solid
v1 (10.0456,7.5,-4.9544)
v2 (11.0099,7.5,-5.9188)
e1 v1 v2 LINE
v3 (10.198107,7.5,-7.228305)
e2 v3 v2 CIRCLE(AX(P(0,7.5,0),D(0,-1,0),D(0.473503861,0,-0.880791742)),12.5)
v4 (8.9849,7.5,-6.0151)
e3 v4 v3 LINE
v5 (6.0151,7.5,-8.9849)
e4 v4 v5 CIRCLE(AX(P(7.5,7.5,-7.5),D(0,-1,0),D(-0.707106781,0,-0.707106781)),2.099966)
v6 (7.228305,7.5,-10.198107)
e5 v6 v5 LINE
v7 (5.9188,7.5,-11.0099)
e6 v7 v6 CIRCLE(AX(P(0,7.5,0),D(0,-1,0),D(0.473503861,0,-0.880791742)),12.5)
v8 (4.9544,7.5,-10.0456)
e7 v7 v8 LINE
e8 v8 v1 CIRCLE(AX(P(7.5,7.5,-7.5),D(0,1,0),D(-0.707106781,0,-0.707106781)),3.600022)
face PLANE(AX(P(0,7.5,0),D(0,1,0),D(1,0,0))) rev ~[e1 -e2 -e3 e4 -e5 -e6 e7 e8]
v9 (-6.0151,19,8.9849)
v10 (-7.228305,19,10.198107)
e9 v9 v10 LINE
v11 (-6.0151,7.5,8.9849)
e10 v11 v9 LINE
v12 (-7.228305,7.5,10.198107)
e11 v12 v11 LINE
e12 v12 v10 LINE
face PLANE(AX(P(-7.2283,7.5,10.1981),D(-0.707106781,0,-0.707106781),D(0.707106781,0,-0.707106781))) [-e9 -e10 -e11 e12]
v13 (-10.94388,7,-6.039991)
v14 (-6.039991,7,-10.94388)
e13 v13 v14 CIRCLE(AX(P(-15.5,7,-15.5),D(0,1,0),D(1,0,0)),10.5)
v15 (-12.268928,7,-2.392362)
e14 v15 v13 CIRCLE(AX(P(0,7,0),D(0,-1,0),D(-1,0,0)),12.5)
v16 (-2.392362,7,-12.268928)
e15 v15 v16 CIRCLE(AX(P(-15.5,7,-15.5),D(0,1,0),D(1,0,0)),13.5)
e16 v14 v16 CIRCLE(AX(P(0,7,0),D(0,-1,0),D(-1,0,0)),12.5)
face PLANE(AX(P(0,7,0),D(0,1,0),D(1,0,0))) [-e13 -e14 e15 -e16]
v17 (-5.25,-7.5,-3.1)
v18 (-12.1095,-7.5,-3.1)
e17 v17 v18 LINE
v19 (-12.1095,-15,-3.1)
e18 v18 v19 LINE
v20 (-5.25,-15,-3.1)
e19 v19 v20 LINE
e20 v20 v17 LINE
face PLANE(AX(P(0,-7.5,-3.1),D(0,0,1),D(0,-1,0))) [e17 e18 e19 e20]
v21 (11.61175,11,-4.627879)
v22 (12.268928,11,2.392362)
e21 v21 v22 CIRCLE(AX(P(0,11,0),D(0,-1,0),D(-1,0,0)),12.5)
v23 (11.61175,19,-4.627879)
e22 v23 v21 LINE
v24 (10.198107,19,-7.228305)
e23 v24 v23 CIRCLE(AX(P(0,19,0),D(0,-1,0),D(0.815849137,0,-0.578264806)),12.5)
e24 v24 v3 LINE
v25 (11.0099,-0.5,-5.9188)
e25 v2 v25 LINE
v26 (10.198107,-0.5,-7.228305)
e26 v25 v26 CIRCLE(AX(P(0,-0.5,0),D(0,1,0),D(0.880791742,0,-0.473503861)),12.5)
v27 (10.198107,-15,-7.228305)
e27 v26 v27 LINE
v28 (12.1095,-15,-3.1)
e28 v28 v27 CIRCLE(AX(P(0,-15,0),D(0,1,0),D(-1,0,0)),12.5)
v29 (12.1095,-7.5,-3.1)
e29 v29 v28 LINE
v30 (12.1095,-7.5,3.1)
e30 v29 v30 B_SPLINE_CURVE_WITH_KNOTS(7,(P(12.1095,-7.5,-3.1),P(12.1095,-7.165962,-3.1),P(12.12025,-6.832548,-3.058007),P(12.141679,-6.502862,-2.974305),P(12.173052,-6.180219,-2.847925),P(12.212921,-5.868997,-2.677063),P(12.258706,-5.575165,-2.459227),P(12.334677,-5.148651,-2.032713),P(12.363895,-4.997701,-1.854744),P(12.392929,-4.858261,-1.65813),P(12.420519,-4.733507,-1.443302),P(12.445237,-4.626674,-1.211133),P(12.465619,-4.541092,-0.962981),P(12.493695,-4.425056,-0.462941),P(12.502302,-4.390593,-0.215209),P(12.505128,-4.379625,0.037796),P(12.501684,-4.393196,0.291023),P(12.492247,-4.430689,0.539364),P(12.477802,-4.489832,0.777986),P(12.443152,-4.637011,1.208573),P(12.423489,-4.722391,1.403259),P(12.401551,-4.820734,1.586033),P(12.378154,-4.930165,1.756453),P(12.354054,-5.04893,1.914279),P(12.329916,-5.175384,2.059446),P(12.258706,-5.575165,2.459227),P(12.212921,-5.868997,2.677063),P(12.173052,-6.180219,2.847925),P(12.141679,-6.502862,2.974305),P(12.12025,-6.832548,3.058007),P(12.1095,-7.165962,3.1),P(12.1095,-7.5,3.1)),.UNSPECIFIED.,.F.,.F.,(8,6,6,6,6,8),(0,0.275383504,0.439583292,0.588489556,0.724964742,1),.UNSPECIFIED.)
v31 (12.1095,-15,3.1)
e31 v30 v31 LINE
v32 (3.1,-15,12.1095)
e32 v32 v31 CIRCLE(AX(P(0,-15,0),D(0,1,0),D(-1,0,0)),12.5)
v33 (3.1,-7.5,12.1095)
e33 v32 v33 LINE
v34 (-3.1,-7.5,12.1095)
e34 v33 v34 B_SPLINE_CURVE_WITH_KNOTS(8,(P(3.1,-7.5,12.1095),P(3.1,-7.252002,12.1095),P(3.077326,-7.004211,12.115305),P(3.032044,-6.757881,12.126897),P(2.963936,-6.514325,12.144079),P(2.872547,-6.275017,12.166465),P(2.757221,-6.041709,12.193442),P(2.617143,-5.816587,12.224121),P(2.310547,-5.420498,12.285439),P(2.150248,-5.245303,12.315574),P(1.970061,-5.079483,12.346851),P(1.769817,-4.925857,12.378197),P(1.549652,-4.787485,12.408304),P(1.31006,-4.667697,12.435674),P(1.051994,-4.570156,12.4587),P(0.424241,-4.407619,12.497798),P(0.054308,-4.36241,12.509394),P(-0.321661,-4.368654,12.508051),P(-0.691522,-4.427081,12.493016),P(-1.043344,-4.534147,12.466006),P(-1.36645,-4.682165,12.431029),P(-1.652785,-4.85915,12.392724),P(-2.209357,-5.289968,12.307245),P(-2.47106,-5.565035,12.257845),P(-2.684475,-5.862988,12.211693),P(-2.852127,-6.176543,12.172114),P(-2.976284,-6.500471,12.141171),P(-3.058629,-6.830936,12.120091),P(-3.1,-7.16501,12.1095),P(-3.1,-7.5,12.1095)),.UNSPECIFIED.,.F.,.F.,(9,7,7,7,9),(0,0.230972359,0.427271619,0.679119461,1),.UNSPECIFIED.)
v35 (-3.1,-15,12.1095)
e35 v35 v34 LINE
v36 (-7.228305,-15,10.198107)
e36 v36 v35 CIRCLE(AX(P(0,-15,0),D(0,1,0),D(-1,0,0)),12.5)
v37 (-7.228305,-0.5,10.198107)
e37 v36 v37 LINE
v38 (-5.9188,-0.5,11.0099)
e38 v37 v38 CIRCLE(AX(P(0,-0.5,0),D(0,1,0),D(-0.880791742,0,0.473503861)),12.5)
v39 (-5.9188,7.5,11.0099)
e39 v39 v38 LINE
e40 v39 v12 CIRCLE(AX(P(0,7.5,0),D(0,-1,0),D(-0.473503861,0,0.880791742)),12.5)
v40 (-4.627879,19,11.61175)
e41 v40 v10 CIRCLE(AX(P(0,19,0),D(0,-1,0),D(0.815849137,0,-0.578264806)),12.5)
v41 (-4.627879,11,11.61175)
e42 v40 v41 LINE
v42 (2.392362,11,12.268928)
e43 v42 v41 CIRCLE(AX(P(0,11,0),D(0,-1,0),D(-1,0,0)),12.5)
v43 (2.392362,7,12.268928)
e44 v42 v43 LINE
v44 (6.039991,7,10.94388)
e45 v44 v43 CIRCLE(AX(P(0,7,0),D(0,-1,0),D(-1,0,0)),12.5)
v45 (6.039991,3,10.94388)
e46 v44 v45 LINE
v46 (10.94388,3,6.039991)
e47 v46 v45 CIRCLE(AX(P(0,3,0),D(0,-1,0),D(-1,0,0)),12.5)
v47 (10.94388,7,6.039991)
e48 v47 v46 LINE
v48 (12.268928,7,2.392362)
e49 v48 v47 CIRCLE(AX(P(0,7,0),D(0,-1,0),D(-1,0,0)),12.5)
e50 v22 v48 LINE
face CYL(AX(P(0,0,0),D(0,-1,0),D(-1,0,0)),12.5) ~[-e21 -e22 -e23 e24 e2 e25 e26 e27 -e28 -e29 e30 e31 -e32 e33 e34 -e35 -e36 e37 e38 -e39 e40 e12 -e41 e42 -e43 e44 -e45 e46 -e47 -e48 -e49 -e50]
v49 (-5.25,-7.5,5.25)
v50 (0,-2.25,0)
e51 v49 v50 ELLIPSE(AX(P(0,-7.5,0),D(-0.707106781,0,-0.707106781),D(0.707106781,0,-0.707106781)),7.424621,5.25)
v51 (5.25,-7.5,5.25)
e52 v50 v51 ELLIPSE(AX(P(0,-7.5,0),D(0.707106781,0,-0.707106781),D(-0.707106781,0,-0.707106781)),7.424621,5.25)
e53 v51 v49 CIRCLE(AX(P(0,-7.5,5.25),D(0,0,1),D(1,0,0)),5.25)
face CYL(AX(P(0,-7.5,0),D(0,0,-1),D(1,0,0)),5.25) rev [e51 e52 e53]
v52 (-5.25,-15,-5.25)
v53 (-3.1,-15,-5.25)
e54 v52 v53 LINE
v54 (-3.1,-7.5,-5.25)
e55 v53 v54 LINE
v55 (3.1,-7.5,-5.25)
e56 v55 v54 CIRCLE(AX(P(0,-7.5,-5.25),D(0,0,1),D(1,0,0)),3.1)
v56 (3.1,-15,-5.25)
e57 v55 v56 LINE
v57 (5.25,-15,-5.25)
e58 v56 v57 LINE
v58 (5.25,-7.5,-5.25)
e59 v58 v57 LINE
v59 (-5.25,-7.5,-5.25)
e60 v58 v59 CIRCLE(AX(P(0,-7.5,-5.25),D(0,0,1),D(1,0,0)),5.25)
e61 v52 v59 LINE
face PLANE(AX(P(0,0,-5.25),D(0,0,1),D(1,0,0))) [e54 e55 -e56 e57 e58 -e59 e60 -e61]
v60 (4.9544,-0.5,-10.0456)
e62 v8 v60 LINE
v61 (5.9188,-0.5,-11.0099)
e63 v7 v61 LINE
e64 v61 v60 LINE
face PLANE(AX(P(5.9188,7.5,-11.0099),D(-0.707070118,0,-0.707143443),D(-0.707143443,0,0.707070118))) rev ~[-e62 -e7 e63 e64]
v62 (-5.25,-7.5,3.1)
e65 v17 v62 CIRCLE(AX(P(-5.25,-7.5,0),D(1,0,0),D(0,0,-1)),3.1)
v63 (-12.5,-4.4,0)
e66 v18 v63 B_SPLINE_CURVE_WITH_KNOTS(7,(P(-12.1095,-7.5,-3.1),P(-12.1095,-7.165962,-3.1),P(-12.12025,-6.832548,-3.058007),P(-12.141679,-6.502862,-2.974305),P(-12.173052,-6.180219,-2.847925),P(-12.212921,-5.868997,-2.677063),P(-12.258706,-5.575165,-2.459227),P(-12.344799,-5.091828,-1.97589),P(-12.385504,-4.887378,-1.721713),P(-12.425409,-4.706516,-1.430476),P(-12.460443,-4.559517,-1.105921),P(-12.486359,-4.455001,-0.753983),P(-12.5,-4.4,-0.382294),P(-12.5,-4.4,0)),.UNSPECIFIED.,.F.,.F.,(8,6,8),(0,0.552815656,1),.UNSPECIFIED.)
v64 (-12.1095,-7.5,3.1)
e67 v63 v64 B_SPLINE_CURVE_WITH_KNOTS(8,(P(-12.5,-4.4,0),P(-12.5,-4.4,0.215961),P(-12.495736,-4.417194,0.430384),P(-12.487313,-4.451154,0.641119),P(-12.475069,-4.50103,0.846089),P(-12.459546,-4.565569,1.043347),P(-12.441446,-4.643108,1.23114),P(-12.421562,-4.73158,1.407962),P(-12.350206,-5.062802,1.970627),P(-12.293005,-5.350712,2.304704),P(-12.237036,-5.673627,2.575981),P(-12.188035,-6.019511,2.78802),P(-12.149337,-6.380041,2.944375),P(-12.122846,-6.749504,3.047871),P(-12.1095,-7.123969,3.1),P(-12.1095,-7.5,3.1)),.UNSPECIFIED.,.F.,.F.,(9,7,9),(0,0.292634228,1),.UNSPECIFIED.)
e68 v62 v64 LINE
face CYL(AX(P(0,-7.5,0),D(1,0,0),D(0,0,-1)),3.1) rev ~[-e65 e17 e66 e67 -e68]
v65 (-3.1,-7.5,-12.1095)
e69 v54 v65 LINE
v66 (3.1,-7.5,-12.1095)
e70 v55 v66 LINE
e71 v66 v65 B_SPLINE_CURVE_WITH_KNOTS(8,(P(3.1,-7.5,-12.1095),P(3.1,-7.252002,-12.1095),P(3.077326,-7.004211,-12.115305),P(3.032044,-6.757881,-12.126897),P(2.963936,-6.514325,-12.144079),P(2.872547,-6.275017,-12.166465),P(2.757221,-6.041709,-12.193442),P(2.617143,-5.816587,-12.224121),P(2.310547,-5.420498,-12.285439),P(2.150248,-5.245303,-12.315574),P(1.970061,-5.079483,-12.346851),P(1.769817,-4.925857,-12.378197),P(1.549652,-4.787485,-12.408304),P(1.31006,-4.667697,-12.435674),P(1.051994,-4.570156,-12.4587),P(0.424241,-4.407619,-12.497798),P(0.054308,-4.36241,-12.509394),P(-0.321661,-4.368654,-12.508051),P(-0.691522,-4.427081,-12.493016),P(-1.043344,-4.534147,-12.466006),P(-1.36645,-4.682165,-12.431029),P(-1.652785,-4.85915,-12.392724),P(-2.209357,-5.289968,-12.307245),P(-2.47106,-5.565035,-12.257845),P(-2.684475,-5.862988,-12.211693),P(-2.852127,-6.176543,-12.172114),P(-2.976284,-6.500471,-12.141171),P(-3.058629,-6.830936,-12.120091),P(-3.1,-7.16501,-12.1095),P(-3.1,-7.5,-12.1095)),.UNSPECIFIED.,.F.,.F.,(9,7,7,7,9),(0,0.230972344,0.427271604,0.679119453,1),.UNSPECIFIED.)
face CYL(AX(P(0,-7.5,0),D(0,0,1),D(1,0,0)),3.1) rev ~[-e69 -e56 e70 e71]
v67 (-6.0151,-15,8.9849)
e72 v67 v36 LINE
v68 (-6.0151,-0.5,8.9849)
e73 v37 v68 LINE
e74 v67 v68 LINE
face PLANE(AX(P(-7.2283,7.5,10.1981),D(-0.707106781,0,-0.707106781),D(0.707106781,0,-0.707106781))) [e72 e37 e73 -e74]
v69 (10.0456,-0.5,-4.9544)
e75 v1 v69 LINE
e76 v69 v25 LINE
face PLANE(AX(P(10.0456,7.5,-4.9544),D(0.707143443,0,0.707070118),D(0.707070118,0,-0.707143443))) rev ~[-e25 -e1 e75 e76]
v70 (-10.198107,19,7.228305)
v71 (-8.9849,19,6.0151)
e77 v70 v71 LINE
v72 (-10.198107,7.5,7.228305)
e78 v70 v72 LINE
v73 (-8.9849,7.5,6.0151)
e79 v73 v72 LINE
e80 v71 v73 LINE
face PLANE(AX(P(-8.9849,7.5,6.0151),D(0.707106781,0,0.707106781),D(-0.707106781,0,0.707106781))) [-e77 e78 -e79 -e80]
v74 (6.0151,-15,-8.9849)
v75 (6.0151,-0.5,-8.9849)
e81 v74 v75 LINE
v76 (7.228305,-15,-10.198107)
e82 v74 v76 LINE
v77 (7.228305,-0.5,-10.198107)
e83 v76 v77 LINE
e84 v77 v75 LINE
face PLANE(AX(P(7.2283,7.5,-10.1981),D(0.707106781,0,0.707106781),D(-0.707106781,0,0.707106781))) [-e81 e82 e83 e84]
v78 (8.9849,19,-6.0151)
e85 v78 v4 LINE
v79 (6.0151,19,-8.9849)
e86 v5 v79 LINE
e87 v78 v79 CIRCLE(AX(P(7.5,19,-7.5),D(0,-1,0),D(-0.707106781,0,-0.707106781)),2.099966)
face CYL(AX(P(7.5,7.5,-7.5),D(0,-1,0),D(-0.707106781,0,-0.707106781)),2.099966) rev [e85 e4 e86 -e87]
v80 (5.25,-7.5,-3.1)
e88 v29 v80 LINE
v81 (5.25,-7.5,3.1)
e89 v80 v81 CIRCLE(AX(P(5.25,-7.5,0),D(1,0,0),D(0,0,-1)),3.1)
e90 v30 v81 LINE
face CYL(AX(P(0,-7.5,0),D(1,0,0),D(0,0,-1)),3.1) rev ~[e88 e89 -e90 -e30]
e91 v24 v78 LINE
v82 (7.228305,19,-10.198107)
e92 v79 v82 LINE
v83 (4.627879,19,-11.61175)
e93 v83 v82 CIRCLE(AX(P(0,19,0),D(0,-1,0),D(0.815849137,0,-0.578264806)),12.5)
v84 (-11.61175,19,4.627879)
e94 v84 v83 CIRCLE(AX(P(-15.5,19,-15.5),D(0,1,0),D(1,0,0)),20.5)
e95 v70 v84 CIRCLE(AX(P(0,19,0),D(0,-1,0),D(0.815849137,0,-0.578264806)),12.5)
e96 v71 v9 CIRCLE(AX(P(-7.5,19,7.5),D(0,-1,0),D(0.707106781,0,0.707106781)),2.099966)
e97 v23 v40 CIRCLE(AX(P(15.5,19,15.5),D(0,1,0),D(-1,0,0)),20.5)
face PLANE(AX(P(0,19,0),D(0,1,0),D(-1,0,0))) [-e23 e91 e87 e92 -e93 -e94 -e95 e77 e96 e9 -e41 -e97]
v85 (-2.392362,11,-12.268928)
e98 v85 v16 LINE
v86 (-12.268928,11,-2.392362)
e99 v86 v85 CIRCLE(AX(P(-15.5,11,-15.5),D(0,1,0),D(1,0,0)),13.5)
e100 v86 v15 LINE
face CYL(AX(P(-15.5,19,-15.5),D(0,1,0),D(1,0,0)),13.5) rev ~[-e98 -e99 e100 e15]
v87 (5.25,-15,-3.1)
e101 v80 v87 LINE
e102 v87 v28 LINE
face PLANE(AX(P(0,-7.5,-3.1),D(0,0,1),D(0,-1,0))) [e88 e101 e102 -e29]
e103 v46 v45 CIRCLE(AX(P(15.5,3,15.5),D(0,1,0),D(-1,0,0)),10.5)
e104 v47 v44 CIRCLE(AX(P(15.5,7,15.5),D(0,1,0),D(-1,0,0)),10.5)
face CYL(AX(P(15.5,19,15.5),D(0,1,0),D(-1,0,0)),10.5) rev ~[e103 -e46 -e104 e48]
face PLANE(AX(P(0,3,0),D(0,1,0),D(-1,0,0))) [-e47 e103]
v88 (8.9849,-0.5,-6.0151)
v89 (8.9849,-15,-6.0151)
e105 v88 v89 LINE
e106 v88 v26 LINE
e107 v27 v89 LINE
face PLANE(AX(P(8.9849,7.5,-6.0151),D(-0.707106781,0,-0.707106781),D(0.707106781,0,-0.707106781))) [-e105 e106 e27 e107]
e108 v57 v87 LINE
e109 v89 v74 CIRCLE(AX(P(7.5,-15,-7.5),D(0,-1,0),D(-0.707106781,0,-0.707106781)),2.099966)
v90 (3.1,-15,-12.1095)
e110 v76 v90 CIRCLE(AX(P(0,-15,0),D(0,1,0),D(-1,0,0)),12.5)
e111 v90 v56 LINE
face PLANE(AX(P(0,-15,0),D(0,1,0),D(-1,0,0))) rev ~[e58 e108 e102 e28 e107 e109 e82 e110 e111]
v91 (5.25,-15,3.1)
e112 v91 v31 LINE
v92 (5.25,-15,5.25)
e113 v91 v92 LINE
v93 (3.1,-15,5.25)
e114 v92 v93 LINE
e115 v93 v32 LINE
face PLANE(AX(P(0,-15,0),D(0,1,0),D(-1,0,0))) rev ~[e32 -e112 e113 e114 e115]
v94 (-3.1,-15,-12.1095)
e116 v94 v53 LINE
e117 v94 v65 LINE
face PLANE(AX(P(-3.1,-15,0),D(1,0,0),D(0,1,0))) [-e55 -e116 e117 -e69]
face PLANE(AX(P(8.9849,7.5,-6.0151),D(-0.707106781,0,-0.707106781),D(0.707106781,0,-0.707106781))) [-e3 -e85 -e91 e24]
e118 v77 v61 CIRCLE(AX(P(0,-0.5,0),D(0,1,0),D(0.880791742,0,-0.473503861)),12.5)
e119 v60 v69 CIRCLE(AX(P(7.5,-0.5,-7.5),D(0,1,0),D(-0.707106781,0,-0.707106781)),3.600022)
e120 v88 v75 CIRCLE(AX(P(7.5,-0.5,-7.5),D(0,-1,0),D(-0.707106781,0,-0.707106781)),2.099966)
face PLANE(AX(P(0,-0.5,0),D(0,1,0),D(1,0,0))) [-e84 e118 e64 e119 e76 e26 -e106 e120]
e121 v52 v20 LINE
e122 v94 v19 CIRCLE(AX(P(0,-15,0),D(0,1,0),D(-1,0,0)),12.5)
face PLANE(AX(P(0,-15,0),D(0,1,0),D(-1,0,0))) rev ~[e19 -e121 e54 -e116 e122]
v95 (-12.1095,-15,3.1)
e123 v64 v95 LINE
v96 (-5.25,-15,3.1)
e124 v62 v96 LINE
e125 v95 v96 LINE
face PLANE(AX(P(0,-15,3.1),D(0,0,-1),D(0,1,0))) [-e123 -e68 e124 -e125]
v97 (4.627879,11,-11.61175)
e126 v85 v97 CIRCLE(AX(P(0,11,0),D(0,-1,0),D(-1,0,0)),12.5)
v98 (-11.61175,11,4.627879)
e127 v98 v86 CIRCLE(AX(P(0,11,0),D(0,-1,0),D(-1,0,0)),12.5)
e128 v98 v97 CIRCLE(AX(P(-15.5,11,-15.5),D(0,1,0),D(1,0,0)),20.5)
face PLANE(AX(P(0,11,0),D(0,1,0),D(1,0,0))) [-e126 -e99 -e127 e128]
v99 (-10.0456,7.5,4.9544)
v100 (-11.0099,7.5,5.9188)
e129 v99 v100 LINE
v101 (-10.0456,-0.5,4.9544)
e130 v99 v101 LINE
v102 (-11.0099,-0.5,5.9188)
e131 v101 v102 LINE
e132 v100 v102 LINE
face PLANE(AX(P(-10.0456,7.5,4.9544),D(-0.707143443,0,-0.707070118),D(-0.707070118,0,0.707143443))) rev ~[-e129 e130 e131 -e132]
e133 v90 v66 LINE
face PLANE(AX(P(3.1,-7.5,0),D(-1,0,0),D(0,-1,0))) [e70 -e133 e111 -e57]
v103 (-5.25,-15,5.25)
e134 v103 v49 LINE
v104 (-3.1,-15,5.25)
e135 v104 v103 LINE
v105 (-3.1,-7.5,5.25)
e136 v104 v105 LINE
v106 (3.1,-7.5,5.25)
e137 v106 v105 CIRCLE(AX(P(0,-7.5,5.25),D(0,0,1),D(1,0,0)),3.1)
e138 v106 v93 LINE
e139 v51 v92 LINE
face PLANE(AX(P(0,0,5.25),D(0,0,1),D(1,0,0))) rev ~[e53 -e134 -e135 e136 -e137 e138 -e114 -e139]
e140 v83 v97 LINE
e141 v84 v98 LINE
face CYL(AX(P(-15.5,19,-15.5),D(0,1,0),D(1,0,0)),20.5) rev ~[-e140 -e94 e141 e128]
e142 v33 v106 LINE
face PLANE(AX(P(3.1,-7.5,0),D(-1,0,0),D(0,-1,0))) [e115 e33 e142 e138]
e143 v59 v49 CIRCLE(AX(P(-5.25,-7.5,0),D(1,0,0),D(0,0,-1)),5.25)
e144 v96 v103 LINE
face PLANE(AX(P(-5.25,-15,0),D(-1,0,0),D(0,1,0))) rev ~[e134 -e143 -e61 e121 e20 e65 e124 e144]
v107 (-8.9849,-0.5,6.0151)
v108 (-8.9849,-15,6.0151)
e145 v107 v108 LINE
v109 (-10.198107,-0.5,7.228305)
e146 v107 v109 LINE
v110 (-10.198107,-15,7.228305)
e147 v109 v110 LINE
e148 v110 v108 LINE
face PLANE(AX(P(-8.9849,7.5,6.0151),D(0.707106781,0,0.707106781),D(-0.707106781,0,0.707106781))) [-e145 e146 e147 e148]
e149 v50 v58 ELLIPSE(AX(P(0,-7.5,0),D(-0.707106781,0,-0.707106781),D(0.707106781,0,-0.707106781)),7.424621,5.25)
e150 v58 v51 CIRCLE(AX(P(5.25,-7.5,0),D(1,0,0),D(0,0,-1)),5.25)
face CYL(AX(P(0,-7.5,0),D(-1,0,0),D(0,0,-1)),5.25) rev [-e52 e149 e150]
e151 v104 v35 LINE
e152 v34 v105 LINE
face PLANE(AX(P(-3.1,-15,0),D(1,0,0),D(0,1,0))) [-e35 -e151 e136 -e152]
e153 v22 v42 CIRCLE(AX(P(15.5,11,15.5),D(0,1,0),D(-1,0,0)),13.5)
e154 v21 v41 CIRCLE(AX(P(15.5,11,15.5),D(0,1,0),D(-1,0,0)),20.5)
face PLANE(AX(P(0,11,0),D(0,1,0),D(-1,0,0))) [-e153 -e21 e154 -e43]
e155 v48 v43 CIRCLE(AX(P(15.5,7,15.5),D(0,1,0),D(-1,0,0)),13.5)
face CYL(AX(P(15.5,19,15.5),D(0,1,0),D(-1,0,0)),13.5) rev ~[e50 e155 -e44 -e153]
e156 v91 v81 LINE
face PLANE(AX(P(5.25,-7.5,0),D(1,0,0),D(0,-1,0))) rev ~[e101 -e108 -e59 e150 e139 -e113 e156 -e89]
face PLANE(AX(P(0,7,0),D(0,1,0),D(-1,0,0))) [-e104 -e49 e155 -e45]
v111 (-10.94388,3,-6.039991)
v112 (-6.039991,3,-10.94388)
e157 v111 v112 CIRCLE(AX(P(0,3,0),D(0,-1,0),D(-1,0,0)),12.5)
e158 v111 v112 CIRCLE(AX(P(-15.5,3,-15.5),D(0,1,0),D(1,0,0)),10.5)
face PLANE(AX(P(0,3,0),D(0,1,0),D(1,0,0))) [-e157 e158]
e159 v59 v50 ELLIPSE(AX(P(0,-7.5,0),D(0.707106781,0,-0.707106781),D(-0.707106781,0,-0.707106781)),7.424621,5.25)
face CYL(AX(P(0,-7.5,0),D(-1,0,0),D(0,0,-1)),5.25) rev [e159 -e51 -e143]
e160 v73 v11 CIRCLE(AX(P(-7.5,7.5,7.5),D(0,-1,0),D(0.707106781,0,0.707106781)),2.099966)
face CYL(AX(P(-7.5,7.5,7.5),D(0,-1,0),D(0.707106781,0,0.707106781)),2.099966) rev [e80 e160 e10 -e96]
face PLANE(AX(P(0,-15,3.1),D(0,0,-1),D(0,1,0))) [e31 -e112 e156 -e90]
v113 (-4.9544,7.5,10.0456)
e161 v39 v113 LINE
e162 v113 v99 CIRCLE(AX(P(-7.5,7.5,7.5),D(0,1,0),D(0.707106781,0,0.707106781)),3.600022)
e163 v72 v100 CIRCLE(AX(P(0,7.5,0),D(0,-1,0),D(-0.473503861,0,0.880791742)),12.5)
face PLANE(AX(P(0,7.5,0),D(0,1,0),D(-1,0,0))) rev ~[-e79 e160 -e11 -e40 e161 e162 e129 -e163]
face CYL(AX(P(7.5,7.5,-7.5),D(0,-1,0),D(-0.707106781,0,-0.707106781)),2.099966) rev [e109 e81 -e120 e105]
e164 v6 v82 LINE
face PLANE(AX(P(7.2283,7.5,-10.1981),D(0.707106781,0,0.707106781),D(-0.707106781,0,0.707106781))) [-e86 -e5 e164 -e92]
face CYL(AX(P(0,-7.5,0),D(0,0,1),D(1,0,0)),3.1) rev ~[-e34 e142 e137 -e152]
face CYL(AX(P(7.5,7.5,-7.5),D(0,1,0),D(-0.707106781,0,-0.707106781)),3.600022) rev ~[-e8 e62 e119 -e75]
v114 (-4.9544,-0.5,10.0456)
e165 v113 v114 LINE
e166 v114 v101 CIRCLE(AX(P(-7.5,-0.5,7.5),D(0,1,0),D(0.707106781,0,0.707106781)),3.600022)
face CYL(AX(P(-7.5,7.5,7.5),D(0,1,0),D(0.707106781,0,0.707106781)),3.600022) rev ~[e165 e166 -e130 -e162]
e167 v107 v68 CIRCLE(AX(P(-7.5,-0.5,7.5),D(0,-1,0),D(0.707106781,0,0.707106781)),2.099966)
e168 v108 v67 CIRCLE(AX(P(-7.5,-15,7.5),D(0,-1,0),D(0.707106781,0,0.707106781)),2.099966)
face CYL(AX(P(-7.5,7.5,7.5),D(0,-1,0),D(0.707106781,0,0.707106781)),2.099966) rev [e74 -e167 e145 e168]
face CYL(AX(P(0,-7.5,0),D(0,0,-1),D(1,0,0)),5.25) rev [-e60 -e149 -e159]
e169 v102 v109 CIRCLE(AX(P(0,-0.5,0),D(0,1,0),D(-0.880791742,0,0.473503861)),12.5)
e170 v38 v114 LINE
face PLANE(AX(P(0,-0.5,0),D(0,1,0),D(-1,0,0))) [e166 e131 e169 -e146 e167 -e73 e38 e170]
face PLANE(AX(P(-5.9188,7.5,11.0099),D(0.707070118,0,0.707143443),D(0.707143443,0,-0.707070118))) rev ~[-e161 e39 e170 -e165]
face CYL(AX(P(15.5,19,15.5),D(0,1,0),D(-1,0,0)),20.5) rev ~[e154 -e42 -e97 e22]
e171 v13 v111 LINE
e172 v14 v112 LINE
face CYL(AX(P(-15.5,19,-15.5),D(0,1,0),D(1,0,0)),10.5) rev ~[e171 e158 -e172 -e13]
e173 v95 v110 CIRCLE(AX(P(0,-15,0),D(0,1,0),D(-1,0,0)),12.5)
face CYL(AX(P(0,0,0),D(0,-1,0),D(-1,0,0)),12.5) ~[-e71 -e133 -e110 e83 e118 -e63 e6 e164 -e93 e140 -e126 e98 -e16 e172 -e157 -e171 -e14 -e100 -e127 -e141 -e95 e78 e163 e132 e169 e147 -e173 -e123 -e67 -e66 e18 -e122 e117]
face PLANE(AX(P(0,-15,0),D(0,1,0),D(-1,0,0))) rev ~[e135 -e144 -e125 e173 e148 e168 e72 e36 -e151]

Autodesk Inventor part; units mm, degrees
ref_plane "YZ Plane" through (0, 0, 0) normal (1, 0, 0) x (0, 1, 0)
ref_plane "XZ Plane" through (0, 0, 0) normal (0, 1, 0) x (-1, 0, 0)
sketch "Sketch1" plane through (0, 0, 0) normal (0, 1, 0) x (-1, 0, 0)
  circle A0 centre (0, 0) radius 12.5
  dimension "d0" = 25
extrude "Extrusion1" add sketch "Sketch1" along normal blind 19 and the other way blind 15
sketch "Sketch2" plane through (0, 0, 0) normal (0, 0, 1) x (1, 0, 0)
  line L0 (-5.25, -15) -> (-5.25, -7.5)
  arc A0 (5.25, -7.5) -> (-5.25, -7.5) centre (0, -7.5) ccw
  line L1 (5.25, -7.5) -> (5.25, -15)
  line L2 (5.25, -15) -> (-5.25, -15)
  line L3 (-3.1, -15) -> (-3.1, -7.5)
  arc A1 (3.1, -7.5) -> (-3.1, -7.5) centre (0, -7.5) ccw
  line L4 (3.1, -7.5) -> (3.1, -15)
  line L5 (0, 0) -> (0, -15) construction
  line L6 (-12.5, -15) -> (12.5, -15) projected
  point P0 (0, -7.5)
  dimension "d5" = 10.5
  dimension "d6" = 6.2
extrude "Extrusion2" cut sketch "Sketch2" along normal mid plane 10.5
extrude "Extrusion3" cut sketch "Sketch2" against normal through all both and the other way through all contours L3 A1 L4 L2
pattern_circular "Circular Pattern1" count 2 over 90 about axis through (0, -10, 0) along (0, 1, 0) of "Extrusion2", "Extrusion3"
ref_plane "Work Plane1" through (0, 7.5, 0) normal (0, 1, 0) x (1, 0, 0)
sketch "Sketch3" plane through (0, 7.5, 0) normal (0, 1, 0) x (1, 0, 0)
  line L0 (7.2283, 10.1981) -> (6.0151, 8.9849)
  arc A0 (6.0151, 8.9849) -> (8.9849, 6.0151) centre (7.5, 7.5) ccw
  line L1 (8.9849, 6.0151) -> (10.1981, 7.2283)
  arc A1 (12.1095, 3.1) -> (3.1, 12.1095) centre (0, 0) ccw projected
  line L2 (0, 0) -> (7.5, 7.5) construction
  line L3 (-17.671, 0) -> (18.5127, 0) projected
  line L4 (5.9188, 11.0099) -> (4.9544, 10.0456)
  arc A2 (4.9544, 10.0456) -> (10.0456, 4.9544) centre (7.5, 7.5) ccw
  line L5 (10.0456, 4.9544) -> (11.0099, 5.9188)
  dimension "d15" = 4.2
  dimension "d16" = 7.5
  dimension "d17" = 45
  dimension "d18" = 7.2
extrude "Extrusion4" cut sketch "Sketch3" along normal through all both and the other way through all contours A1 L1 A0 L0
extrude "Extrusion5" cut sketch "Sketch3" against normal blind 8
pattern_circular "Circular Pattern2" count 2 over 360 about axis through (0, -10, 0) along (0, 1, 0) of "Extrusion4", "Extrusion5"
sketch "Sketch4" plane through (0, 19, 0) normal (0, 1, 0) x (1, 0, 0)
  circle A0 centre (-15.5, 15.5) radius 20.5
  line L0 (-15.5, 15.5) -> (15.5, 15.5) construction
  line L1 (15.5, 15.5) -> (15.5, -15.5) construction
  line L2 (15.5, -15.5) -> (-15.5, -15.5) construction
  line L3 (-15.5, -15.5) -> (-15.5, 15.5) construction
  circle A1 centre (-15.5, 15.5) radius 13.5
  circle A2 centre (-15.5, 15.5) radius 10.5
  point P0 (0, 0)
  point P1 (15.5, 0)
  point P2 (0, 15.5)
  dimension "d27" = 41
  dimension "d28" = 31
  dimension "d31" = 27
  dimension "d32" = 21
extrude "Extrusion6" cut sketch "Sketch4" against normal blind 8 contours A0 | A1 | A2
extrude "Extrusion7" cut sketch "Sketch4" against normal blind 12 contours A1 | A2
extrude "Extrusion8" cut sketch "Sketch4" against normal blind 16 contours A2
pattern_circular "Circular Pattern3" count 2 over 360 about axis through (0, -10, 0) along (0, 1, 0) of "Extrusion7", "Extrusion6", "Extrusion8"
properties part number "mount-stem"
